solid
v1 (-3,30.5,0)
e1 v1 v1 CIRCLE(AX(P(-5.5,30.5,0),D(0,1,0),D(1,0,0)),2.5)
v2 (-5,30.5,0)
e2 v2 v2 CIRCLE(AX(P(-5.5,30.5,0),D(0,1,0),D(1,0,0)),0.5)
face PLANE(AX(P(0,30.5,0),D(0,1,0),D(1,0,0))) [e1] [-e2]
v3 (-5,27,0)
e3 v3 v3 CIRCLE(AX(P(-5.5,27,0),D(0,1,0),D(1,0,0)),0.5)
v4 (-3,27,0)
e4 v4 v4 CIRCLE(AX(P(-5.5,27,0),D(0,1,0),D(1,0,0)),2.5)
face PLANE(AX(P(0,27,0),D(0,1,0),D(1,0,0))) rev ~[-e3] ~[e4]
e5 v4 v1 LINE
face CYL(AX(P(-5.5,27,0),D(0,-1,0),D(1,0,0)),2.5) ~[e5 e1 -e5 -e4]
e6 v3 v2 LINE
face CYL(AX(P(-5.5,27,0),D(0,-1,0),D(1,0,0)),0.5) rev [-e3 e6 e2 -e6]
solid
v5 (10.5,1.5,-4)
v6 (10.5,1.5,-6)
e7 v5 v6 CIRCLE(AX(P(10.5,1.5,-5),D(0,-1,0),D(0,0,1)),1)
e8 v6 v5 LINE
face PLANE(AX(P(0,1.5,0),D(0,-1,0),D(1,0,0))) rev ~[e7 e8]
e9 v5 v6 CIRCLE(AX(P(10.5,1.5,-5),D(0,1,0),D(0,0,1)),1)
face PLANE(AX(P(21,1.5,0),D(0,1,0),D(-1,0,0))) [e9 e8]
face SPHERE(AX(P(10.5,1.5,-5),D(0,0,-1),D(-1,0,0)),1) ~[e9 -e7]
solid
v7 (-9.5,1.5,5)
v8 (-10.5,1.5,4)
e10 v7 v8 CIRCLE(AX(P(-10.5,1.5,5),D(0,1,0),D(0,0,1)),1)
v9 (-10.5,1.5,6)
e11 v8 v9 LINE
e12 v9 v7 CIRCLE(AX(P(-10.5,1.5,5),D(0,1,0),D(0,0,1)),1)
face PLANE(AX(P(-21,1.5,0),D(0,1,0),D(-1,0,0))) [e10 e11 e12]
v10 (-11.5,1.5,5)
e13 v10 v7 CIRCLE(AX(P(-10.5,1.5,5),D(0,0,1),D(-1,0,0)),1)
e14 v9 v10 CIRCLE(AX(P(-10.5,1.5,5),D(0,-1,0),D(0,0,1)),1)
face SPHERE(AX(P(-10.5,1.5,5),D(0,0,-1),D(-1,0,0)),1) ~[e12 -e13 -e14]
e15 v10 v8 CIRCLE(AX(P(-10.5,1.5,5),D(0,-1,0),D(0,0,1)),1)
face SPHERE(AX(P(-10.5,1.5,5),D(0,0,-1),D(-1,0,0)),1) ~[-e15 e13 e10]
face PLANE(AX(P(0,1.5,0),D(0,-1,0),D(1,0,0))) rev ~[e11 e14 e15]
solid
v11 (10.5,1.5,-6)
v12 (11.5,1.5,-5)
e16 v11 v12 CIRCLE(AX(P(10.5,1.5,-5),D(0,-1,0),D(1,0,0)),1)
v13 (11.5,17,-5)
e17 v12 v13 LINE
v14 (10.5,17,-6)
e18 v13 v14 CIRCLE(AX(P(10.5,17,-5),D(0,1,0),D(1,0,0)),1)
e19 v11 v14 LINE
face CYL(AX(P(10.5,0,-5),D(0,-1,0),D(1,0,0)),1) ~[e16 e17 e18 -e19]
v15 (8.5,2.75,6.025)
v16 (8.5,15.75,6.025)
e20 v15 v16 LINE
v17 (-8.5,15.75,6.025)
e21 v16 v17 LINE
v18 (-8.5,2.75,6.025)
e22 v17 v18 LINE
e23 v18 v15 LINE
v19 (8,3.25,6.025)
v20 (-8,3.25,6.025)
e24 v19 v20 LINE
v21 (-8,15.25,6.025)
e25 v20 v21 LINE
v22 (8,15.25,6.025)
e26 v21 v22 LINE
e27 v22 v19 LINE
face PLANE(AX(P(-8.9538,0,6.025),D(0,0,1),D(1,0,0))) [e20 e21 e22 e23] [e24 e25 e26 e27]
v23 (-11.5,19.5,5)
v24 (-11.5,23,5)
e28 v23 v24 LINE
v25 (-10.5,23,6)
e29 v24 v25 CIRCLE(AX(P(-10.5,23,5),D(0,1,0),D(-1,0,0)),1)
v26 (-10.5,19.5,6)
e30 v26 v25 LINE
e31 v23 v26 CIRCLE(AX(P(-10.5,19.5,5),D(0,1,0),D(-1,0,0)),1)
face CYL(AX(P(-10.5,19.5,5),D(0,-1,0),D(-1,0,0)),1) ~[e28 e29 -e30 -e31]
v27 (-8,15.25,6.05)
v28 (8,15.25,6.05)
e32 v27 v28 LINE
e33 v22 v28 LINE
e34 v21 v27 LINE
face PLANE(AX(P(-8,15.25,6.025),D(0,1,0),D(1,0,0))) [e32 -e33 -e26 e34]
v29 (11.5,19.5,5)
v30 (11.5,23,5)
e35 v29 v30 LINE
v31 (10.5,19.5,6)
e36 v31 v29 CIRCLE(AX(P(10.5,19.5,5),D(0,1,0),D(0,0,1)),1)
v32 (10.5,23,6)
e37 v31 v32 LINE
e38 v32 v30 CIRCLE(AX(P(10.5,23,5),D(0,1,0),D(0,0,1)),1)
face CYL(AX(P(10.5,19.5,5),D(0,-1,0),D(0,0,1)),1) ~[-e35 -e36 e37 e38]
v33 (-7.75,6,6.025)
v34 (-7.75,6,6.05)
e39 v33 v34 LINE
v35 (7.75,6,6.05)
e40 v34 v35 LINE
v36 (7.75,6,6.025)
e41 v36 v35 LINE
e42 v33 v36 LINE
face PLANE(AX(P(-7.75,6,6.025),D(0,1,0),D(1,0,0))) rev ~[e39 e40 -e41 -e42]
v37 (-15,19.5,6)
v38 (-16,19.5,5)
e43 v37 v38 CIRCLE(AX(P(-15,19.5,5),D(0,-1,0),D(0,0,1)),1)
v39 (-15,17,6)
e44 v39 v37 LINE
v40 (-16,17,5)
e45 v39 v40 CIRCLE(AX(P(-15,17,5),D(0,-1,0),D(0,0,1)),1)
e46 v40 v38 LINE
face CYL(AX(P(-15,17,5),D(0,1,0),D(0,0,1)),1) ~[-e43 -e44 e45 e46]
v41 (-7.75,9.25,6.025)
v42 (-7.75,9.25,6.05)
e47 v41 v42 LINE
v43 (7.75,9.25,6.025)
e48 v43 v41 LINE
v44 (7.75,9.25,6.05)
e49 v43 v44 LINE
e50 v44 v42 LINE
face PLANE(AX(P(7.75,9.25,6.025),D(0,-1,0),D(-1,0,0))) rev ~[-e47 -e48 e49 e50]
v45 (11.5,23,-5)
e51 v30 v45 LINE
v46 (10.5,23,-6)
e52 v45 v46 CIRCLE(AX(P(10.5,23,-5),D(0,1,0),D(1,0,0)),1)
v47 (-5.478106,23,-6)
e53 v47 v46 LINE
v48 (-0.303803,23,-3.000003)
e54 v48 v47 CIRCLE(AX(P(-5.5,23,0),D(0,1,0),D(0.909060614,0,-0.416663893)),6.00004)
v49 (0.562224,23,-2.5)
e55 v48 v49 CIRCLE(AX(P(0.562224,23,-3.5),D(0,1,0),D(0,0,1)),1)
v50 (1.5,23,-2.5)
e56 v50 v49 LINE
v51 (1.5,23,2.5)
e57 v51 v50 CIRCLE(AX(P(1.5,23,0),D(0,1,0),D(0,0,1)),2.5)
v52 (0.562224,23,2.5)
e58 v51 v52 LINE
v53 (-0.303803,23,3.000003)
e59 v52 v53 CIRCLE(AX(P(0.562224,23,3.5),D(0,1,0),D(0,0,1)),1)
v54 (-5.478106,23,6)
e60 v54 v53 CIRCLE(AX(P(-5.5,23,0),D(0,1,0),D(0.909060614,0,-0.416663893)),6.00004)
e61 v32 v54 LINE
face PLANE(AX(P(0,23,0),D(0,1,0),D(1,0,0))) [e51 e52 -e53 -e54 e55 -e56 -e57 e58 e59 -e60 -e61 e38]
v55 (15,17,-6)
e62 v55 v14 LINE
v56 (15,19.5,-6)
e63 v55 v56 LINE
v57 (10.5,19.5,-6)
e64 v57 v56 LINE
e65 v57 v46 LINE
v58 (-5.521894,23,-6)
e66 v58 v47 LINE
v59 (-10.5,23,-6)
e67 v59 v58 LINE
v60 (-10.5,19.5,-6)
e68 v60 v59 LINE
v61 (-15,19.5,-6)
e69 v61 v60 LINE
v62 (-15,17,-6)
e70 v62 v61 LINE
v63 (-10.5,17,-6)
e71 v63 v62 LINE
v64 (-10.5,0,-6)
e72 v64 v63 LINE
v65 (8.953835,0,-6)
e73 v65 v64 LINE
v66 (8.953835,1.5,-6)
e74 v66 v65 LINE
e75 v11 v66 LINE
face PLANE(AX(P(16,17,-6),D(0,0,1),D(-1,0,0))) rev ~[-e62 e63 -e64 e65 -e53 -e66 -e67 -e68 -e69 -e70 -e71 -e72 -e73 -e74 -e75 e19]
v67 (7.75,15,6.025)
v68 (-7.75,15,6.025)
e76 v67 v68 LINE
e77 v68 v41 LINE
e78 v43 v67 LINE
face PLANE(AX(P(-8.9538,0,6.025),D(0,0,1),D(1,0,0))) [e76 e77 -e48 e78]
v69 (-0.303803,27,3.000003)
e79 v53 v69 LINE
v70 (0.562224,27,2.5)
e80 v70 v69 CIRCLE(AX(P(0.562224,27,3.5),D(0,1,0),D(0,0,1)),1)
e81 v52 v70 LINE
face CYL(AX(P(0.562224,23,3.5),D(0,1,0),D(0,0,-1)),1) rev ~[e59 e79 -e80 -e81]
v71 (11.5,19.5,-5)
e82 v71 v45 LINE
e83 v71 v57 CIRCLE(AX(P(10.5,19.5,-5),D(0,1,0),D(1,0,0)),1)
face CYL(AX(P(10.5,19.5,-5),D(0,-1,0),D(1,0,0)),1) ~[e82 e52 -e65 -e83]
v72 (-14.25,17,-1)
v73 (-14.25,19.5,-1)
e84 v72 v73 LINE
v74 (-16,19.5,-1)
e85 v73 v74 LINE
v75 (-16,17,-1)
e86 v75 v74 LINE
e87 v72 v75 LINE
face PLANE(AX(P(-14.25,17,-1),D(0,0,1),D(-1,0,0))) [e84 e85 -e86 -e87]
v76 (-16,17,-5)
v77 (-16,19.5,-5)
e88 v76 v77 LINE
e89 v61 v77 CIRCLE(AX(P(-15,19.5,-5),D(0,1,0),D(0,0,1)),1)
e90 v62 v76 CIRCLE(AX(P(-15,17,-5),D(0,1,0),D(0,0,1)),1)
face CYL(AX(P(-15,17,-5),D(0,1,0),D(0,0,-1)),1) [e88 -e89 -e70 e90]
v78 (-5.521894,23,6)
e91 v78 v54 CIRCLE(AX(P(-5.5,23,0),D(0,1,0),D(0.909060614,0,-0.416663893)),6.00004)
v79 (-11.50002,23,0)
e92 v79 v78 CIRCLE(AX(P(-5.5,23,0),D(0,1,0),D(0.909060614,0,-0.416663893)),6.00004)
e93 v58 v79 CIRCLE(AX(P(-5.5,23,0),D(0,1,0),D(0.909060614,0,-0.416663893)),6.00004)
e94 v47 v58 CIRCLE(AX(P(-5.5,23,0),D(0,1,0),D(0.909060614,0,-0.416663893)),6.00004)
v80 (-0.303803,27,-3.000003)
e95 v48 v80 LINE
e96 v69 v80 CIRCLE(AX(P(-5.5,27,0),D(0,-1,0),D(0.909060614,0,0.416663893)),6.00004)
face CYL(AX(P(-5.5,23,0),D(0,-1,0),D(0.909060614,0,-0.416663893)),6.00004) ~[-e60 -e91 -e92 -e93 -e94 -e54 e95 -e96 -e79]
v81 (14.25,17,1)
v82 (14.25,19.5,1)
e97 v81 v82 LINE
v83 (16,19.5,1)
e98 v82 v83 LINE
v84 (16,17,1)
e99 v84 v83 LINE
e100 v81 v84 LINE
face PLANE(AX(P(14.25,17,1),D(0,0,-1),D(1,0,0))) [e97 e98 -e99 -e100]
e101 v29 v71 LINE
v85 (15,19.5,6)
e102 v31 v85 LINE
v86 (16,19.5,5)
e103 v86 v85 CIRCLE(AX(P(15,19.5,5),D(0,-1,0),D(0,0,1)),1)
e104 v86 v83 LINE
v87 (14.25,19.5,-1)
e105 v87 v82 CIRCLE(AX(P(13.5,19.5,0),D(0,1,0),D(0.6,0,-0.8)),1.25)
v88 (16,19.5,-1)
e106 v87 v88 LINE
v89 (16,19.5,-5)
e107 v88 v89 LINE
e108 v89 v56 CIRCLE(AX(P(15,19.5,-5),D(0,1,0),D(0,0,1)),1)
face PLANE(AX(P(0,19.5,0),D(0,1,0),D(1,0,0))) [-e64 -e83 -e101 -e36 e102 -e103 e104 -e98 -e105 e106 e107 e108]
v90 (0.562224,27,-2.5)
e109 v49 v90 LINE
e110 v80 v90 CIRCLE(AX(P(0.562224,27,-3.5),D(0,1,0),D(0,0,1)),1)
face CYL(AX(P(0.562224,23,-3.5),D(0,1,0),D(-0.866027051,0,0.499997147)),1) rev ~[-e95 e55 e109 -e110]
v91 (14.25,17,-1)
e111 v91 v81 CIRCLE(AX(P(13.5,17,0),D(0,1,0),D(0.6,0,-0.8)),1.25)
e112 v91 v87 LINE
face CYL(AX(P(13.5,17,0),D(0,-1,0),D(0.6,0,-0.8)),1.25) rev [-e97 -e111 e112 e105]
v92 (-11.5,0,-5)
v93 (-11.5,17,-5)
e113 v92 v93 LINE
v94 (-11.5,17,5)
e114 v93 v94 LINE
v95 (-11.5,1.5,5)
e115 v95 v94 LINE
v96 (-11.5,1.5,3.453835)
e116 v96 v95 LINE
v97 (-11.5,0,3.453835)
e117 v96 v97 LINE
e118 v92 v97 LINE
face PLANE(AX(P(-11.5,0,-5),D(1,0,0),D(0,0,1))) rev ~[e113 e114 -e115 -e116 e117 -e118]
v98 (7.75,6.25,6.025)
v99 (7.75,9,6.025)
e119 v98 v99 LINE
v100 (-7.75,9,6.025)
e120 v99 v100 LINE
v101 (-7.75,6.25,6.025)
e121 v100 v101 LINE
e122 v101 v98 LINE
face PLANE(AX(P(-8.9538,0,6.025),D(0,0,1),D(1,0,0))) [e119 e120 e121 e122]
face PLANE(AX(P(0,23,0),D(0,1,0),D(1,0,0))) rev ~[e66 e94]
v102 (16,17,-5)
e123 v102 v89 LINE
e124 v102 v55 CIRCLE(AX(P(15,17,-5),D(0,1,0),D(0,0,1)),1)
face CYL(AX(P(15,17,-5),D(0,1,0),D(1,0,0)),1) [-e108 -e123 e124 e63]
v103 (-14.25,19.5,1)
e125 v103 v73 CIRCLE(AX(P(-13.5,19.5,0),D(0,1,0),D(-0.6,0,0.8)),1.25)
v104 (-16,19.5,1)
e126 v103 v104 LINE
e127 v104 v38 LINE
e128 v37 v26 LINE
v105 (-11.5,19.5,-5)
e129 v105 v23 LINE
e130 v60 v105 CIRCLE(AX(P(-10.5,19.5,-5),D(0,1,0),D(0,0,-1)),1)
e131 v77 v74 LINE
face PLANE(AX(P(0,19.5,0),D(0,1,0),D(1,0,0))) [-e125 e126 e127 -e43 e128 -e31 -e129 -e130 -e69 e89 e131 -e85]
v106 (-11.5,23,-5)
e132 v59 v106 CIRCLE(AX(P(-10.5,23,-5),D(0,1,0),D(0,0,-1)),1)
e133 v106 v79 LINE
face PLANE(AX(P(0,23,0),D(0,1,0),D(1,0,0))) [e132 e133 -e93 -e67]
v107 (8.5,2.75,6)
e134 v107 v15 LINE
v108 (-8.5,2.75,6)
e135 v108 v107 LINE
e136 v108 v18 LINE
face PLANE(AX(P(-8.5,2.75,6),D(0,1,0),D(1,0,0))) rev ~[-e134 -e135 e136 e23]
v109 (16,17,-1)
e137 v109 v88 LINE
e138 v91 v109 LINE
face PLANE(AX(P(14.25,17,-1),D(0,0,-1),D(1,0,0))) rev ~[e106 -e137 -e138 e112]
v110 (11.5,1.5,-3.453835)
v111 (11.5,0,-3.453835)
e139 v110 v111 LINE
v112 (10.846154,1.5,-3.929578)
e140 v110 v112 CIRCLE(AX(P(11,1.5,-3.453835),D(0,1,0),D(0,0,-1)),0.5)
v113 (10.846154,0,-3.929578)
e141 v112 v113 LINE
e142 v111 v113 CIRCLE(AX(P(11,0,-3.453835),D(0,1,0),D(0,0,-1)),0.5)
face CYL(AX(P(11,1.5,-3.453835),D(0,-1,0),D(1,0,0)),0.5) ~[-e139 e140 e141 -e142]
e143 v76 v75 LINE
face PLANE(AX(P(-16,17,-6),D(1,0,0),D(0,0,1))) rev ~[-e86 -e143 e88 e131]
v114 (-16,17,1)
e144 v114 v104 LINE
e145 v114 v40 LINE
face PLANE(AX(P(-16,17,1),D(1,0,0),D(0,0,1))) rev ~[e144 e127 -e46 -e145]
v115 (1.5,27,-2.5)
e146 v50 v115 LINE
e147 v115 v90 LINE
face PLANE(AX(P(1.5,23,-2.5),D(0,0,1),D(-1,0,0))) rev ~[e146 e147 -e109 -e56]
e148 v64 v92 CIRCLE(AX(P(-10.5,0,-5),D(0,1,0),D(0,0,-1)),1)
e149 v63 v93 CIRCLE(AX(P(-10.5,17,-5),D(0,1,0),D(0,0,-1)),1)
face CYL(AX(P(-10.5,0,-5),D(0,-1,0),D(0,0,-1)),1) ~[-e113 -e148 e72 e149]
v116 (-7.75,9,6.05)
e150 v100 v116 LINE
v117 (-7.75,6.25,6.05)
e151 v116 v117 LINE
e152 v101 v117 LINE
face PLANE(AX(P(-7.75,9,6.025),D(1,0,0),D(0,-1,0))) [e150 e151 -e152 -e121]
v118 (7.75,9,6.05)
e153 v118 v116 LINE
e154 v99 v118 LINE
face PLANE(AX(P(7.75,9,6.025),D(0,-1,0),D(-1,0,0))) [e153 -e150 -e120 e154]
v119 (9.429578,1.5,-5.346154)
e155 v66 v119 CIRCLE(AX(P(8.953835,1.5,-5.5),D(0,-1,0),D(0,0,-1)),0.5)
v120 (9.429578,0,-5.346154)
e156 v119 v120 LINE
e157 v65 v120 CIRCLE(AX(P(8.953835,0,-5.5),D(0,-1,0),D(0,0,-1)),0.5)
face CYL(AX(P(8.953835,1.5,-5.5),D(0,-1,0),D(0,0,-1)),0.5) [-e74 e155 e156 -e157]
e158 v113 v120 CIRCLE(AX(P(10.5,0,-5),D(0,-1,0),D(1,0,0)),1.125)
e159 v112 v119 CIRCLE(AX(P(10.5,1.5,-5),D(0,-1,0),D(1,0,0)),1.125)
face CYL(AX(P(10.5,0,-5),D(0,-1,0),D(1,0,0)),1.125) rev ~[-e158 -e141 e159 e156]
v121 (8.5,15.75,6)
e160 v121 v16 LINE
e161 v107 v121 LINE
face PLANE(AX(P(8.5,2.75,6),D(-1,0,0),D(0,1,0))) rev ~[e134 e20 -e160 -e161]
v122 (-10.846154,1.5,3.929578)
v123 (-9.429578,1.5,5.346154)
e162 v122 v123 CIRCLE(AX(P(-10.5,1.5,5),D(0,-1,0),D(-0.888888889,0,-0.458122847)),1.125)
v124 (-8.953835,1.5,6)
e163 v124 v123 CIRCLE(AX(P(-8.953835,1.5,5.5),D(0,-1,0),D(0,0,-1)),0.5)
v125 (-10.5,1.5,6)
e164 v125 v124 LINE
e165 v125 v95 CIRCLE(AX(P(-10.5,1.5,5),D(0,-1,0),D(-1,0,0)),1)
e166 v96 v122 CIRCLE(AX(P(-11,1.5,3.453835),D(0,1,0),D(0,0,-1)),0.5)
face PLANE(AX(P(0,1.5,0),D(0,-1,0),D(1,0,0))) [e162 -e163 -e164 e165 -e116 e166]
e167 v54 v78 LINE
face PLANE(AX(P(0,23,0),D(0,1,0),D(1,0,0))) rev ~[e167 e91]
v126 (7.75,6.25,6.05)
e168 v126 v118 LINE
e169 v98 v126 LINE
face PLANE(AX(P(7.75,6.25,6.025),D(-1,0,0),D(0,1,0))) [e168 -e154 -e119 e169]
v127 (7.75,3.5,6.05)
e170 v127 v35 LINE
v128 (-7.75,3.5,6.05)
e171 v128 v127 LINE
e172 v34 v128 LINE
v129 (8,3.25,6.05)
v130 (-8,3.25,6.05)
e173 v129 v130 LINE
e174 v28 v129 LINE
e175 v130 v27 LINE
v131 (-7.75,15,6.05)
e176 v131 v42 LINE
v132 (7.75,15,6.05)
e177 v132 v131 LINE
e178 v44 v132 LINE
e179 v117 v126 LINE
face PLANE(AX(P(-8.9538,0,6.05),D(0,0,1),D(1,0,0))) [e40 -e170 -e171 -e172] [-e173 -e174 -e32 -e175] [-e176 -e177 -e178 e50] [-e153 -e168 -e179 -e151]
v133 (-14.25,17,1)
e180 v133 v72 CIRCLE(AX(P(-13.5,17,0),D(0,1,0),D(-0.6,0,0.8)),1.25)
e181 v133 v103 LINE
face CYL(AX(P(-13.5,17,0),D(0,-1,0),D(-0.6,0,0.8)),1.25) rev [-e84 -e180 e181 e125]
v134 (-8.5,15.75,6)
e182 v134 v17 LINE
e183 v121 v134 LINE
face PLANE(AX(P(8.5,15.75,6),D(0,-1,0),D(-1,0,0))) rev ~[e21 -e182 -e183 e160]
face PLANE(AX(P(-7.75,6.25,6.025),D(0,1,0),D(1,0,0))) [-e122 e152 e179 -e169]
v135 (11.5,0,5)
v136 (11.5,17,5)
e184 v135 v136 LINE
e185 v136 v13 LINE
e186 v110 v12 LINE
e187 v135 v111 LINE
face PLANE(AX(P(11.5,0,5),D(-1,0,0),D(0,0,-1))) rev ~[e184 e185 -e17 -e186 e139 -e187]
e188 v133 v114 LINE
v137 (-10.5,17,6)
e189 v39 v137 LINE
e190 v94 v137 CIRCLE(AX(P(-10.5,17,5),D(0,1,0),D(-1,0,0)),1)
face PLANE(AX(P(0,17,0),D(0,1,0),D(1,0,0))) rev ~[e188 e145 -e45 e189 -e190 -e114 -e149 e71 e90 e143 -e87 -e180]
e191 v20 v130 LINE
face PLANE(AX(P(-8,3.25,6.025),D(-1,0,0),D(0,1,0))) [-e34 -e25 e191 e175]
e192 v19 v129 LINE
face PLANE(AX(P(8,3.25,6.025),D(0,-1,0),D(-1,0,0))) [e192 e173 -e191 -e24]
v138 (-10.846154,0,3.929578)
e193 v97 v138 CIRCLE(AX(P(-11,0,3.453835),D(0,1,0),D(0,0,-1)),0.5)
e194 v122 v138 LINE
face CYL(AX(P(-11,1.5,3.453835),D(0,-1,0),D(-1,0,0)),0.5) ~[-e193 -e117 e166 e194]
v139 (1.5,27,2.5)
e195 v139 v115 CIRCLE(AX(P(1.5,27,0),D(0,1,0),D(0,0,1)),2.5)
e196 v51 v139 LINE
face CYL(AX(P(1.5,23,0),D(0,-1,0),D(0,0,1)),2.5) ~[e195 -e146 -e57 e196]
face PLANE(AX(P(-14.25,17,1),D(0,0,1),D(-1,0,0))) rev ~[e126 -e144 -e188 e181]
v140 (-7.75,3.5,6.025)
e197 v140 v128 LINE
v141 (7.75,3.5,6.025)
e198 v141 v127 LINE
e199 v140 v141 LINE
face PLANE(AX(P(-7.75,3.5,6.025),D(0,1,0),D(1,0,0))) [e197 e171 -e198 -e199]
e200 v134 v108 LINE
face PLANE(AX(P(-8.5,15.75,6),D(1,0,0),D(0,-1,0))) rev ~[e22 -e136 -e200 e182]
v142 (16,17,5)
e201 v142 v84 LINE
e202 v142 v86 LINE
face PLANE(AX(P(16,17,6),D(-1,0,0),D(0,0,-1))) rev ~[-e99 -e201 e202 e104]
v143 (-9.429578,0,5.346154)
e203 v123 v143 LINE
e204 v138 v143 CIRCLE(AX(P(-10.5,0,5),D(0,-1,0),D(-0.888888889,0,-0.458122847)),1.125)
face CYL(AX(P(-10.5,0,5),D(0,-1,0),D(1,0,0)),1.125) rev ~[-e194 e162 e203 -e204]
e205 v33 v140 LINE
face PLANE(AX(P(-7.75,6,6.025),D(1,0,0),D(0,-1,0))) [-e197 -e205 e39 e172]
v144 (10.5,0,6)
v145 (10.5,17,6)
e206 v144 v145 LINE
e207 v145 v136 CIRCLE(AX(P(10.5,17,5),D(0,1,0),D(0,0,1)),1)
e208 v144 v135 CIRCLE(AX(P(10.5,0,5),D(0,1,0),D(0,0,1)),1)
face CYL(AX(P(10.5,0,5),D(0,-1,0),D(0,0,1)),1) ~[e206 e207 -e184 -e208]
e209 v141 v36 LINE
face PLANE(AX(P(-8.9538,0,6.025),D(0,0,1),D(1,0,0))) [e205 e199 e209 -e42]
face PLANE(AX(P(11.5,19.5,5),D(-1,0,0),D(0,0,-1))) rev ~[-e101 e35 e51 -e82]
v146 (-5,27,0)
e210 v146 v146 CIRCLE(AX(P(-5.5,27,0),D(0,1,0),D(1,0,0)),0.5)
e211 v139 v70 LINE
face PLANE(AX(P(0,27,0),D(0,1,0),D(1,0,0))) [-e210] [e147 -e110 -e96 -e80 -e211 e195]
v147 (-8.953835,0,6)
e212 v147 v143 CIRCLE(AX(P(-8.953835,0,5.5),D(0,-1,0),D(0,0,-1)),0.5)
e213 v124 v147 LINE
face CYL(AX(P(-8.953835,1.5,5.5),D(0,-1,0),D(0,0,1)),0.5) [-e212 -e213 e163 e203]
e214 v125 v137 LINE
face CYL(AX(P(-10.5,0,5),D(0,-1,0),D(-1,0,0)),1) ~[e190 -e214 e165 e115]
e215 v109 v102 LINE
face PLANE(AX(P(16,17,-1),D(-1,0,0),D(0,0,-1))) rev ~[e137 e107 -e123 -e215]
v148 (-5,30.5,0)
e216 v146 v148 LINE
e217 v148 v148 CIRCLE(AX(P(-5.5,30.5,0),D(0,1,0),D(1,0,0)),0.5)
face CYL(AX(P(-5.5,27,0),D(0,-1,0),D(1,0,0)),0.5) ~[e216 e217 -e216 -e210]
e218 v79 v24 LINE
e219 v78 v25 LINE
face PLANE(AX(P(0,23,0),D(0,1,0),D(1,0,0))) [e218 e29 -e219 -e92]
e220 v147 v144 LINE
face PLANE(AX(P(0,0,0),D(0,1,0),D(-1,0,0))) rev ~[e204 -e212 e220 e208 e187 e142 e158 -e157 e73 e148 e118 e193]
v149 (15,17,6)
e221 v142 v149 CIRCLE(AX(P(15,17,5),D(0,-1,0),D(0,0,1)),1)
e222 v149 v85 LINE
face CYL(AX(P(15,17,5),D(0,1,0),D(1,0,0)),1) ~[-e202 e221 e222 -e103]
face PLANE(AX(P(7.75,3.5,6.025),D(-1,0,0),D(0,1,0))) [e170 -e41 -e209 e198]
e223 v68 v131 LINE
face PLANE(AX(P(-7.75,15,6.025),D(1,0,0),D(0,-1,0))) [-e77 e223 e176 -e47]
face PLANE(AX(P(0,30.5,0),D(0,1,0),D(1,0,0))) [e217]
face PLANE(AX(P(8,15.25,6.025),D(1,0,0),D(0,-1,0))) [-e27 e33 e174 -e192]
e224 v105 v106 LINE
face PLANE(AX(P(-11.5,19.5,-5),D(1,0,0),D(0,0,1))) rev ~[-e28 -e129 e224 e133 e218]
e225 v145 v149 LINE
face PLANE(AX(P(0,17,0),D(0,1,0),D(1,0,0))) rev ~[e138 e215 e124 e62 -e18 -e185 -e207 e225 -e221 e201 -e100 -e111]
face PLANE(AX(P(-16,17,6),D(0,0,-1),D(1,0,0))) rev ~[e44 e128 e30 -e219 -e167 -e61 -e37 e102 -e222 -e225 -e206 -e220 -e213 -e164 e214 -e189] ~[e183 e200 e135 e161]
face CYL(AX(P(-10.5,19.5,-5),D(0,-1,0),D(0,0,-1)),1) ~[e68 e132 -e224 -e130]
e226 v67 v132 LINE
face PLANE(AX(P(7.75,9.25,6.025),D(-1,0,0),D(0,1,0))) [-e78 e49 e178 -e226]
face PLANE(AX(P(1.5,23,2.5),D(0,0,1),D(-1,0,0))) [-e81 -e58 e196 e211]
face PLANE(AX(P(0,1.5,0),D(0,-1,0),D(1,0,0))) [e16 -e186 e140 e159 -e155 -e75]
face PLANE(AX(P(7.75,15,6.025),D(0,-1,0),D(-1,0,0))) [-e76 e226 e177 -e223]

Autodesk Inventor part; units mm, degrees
ref_plane "YZ Plane" through (0, 0, 0) normal (1, 0, 0) x (0, 1, 0)
ref_plane "XZ Plane" through (0, 0, 0) normal (0, 1, 0) x (-1, 0, 0)
ref_plane "XY Plane" through (0, 0, 0) normal (0, 0, 1) x (1, 0, 0)
sketch "Sketch1" plane through (0, 0, 0) normal (0, 1, 0) x (-1, 0, 0)
  line L0 (10.5, 6) -> (-10.5, 6)
  line L1 (-11.5, 5) -> (-11.5, -5)
  line L2 (-10.5, -6) -> (10.5, -6)
  line L3 (11.5, -5) -> (11.5, 5)
  line L4 (11.5, 6) -> (-11.5, -6) construction
  line L5 (-11.5, 6) -> (11.5, -6) construction
  arc A0 (10.5, -6) -> (11.5, -5) centre (10.5, -5) ccw
  arc A1 (-11.5, -5) -> (-10.5, -6) centre (-10.5, -5) ccw
  arc A2 (-10.5, 6) -> (-11.5, 5) centre (-10.5, 5) ccw
  arc A3 (11.5, 5) -> (10.5, 6) centre (10.5, 5) ccw
  point P0 (0, 0)
  dimension "d0" = 23
  dimension "d1" = 12
  dimension "d2" = 1
extrude "Extrusion1" add sketch "Sketch1" along normal blind 17
sketch "Sketch2" plane through (0, 0, 0) normal (0, -1, 0) x (1, 0, 0)
  arc A0 (-10.5, 6) -> (-11.5, 5) centre (-10.5, 5) ccw projected
  arc A1 (10.5, -6) -> (11.5, -5) centre (10.5, -5) ccw projected
  circle A2 centre (-10.5, 5) radius 1.125
  circle A3 centre (10.5, -5) radius 1.125
  point P0 (0, 0)
  dimension "d5" = 2.25
  dimension "d6" = 2.25
extrude "Extrusion2" cut sketch "Sketch2" against normal blind 1.5
fillet "Fillet1" radius 0.5 4 edges at (9.9846, 0.75, -6) (11.5, 0.75, -4.4846) (-11.5, 0.75, 4.4846) (-9.9846, 0.75, 6)
sketch "Sketch3" plane through (0, 1.5, 0) normal (0, -1, 0) x (1, 0, 0)
  arc A0 (-10.5, 6) -> (-11.5, 5) centre (-10.5, 5) ccw projected
  arc A1 (-10.5, 6) -> (-10.5, 4) centre (-10.5, 5) ccw
  arc A2 (10.5, -4) -> (10.5, -6) centre (10.5, -5) ccw
  line L0 (10.5, -6) -> (10.5, -4)
  line L1 (-10.5, 4) -> (-10.5, 6)
  point P0 (0, 0)
revolve "Revolution1" add sketch "Sketch3" angle 180 about axis through (10.5, 1.5, -6) along (0, 0, 1) separate body contours L0 A2
revolve "Revolution2" add sketch "Sketch3" angle 180 about axis through (-10.5, 1.5, 4) along (0, 0, 1) separate body contours L1 A1 A0
sketch "Sketch5" plane through (0, 17, 0) normal (0, 1, 0) x (1, 0, 0)
  line L0 (16, 6) -> (-16, 6)
  line L1 (-16, -6) -> (16, -6)
  line L2 (16, -6) -> (-16, 6) construction
  line L3 (16, 6) -> (-16, -6) construction
  line L4 (10.5, 6) -> (-10.5, 6) projected
  arc A0 (-14.25, -1) -> (-14.25, 1) centre (-13.5, 0) ccw
  line L5 (-14.25, 1) -> (-16, 1)
  line L6 (-14.25, -1) -> (-16, -1)
  line L7 (-16, 6) -> (-16, 1)
  line L8 (-16, -1) -> (-16, -6)
  arc A1 (14.25, 1) -> (14.25, -1) centre (13.5, 0) ccw
  line L9 (14.25, 1) -> (16, 1)
  line L10 (14.25, -1) -> (16, -1)
  line L11 (16, -6) -> (16, -1)
  line L12 (16, 1) -> (16, 6)
  point P0 (0, 0)
  dimension "d22" = 32
extrude "Extrusion3" add sketch "Sketch5" along normal blind 2.5 bodies 1
fillet "Fillet2" radius 1 4 edges at (16, 18.25, -6) (16, 18.25, 6) (-16, 18.25, 6) (-16, 18.25, -6)
sketch "Sketch6" plane through (0, 19.5, 0) normal (0, 1, 0) x (1, 0, 0)
  line L0 (-11.5, 5) -> (-11.5, -5) projected
  arc A0 (-11.5, -5) -> (-10.5, -6) centre (-10.5, -5) ccw projected
  arc A1 (-10.5, 6) -> (-11.5, 5) centre (-10.5, 5) ccw projected
  line L1 (11.5, -5) -> (11.5, 5) projected
  arc A2 (11.5, 5) -> (10.5, 6) centre (10.5, 5) ccw projected
  arc A3 (10.5, -6) -> (11.5, -5) centre (10.5, -5) ccw projected
  line L2 (-10.5, 6) -> (10.5, 6)
  line L3 (-10.5, -6) -> (-8.9538, -6) projected
  line L4 (-10.5, -6) -> (10.5, -6)
  point P0 (0, 0)
extrude "Extrusion4" add sketch "Sketch6" along normal blind 3.5 bodies 1
sketch "Sketch7" plane through (0, 23, 0) normal (0, 1, 0) x (1, 0, 0)
  line L0 (-11.5, 5) -> (-11.5, -5) projected
  line L1 (-11.5, -3.4538) -> (-11.5, 5) projected
  line L2 (0, 0) -> (1.5, 0)
  arc A0 (1.5, -2.5) -> (1.5, 2.5) centre (1.5, 0) ccw
  line L3 (1.5, 2.5) -> (-0.0456, 2.5)
  line L4 (1.5, -2.5) -> (-0.0456, -2.5)
  arc A1 (-0.0456, 2.5) -> (-0.0456, -2.5) centre (-5.5, 0) ccw
extrude "Extrusion5" add sketch "Sketch7" along normal blind 4 bodies 1
fillet "Fillet3" radius 1 2 edges at (-0.0456, 25, 2.5) (-0.0456, 25, -2.5)
sketch "Sketch8" plane through (0, 27, 0) normal (0, 1, 0) x (1, 0, 0)
  arc A0 (-0.3038, 3) -> (-0.3038, -3) centre (-5.5, 0) ccw projected
  circle A1 centre (-5.5, 0) radius 0.5
  point P0 (0, 0)
  dimension "d38" = 1
extrude "Extrusion6" add sketch "Sketch8" along normal blind 3.5 bodies 1
sketch "Sketch9" plane through (0, 27, 0) normal (0, 1, 0) x (1, 0, 0)
  circle A0 centre (-5.5, 0) radius 0.5 projected
  circle A1 centre (-5.5, 0) radius 2.5
  point P0 (0, 0)
extrude "Extrusion7" add sketch "Sketch9" along normal blind 3.5 separate body
sketch "Sketch10" plane through (-8.9538, 0, 6) normal (0, 0, 1) x (1, 0, 0)
  line L0 (-1.5462, 1.5) -> (-1.5462, 17)
  line L1 (0.4538, 2.75) -> (17.4538, 2.75)
  line L2 (17.4538, 2.75) -> (17.4538, 15.75)
  line L3 (17.4538, 15.75) -> (0.4538, 15.75)
  line L4 (0.4538, 15.75) -> (0.4538, 2.75)
  line L5 (0.4538, 2.75) -> (17.4538, 15.75) construction
  line L6 (17.4538, 2.75) -> (0.4538, 15.75) construction
  point P0 (8.9538, 0)
  dimension "d44" = 17
  dimension "d45" = 13
extrude "Extrusion8" add sketch "Sketch10" along normal blind 0.025 bodies 1
sketch "Sketch11" plane through (-8.9538, 0, 6.025) normal (0, 0, 1) x (1, 0, 0)
  line L0 (0.4538, 2.75) -> (17.4538, 2.75) projected
  line L1 (17.4538, 2.75) -> (17.4538, 15.75) projected
  line L2 (17.4538, 15.75) -> (0.4538, 15.75) projected
  line L3 (0.4538, 15.75) -> (0.4538, 2.75) projected
  line L4 (0.9538, 15.25) -> (16.9538, 15.25)
  line L5 (16.9538, 15.25) -> (16.9538, 3.25)
  line L6 (16.9538, 3.25) -> (0.9538, 3.25)
  line L7 (0.9538, 3.25) -> (0.9538, 15.25)
  line L8 (16.7038, 15) -> (1.2038, 15)
  line L9 (1.2038, 3.5) -> (16.7038, 3.5)
  line L10 (16.7038, 9.25) -> (1.2038, 9.25)
  line L11 (16.7038, 9) -> (1.2038, 9)
  line L12 (1.2038, 6.25) -> (16.7038, 6.25)
  line L13 (1.2038, 6) -> (16.7038, 6)
  line L14 (1.2038, 15) -> (1.2038, 9.25)
  line L15 (1.2038, 9) -> (1.2038, 6.25)
  line L16 (1.2038, 6) -> (1.2038, 3.5)
  line L17 (1.2038, 9) -> (1.2038, 6.25)
  line L18 (1.2038, 6) -> (1.2038, 3.5)
  line L19 (16.7038, 3.5) -> (16.7038, 6)
  line L20 (16.7038, 6.25) -> (16.7038, 9)
  line L21 (16.7038, 9.25) -> (16.7038, 15)
  point P0 (8.9538, 0)
  dimension "d48" = 0.5
  dimension "d49" = 0.25
  dimension "d50" = 0.25
  dimension "d51" = 0.25
extrude "Extrusion9" add sketch "Sketch11" along normal blind 0.025 contours L4 L5 L6 L7 bodies 1
sketch "Sketch12" plane through (-8.9538, 0, 6.025) normal (0, 0, 1) x (1, 0, 0)
  line L0 (5.8302, 8.978) -> (21.2508, 8.978) construction
  line L1 (21.2508, 8.978) -> (21.2508, 6.2497) construction
  line L2 (21.2508, 6.2497) -> (5.8302, 6.2497) construction
  line L3 (5.8302, 6.2497) -> (5.8302, 8.978) construction
  point P0 (8.9538, 0)
sketch "Sketch13" plane through (-8.9538, 0, 6.025) normal (0, 0, 1) x (1, 0, 0)
  line L0 (5.268, 5.8598) -> (20.7463, 5.8598) construction
  line L1 (20.7463, 5.8598) -> (20.7463, 3.3385) construction
  line L2 (20.7463, 3.3385) -> (5.268, 3.3385) construction
  line L3 (5.268, 3.3385) -> (5.268, 5.8598) construction
  point P0 (8.9538, 0)
properties part number "Part1_sG90"
